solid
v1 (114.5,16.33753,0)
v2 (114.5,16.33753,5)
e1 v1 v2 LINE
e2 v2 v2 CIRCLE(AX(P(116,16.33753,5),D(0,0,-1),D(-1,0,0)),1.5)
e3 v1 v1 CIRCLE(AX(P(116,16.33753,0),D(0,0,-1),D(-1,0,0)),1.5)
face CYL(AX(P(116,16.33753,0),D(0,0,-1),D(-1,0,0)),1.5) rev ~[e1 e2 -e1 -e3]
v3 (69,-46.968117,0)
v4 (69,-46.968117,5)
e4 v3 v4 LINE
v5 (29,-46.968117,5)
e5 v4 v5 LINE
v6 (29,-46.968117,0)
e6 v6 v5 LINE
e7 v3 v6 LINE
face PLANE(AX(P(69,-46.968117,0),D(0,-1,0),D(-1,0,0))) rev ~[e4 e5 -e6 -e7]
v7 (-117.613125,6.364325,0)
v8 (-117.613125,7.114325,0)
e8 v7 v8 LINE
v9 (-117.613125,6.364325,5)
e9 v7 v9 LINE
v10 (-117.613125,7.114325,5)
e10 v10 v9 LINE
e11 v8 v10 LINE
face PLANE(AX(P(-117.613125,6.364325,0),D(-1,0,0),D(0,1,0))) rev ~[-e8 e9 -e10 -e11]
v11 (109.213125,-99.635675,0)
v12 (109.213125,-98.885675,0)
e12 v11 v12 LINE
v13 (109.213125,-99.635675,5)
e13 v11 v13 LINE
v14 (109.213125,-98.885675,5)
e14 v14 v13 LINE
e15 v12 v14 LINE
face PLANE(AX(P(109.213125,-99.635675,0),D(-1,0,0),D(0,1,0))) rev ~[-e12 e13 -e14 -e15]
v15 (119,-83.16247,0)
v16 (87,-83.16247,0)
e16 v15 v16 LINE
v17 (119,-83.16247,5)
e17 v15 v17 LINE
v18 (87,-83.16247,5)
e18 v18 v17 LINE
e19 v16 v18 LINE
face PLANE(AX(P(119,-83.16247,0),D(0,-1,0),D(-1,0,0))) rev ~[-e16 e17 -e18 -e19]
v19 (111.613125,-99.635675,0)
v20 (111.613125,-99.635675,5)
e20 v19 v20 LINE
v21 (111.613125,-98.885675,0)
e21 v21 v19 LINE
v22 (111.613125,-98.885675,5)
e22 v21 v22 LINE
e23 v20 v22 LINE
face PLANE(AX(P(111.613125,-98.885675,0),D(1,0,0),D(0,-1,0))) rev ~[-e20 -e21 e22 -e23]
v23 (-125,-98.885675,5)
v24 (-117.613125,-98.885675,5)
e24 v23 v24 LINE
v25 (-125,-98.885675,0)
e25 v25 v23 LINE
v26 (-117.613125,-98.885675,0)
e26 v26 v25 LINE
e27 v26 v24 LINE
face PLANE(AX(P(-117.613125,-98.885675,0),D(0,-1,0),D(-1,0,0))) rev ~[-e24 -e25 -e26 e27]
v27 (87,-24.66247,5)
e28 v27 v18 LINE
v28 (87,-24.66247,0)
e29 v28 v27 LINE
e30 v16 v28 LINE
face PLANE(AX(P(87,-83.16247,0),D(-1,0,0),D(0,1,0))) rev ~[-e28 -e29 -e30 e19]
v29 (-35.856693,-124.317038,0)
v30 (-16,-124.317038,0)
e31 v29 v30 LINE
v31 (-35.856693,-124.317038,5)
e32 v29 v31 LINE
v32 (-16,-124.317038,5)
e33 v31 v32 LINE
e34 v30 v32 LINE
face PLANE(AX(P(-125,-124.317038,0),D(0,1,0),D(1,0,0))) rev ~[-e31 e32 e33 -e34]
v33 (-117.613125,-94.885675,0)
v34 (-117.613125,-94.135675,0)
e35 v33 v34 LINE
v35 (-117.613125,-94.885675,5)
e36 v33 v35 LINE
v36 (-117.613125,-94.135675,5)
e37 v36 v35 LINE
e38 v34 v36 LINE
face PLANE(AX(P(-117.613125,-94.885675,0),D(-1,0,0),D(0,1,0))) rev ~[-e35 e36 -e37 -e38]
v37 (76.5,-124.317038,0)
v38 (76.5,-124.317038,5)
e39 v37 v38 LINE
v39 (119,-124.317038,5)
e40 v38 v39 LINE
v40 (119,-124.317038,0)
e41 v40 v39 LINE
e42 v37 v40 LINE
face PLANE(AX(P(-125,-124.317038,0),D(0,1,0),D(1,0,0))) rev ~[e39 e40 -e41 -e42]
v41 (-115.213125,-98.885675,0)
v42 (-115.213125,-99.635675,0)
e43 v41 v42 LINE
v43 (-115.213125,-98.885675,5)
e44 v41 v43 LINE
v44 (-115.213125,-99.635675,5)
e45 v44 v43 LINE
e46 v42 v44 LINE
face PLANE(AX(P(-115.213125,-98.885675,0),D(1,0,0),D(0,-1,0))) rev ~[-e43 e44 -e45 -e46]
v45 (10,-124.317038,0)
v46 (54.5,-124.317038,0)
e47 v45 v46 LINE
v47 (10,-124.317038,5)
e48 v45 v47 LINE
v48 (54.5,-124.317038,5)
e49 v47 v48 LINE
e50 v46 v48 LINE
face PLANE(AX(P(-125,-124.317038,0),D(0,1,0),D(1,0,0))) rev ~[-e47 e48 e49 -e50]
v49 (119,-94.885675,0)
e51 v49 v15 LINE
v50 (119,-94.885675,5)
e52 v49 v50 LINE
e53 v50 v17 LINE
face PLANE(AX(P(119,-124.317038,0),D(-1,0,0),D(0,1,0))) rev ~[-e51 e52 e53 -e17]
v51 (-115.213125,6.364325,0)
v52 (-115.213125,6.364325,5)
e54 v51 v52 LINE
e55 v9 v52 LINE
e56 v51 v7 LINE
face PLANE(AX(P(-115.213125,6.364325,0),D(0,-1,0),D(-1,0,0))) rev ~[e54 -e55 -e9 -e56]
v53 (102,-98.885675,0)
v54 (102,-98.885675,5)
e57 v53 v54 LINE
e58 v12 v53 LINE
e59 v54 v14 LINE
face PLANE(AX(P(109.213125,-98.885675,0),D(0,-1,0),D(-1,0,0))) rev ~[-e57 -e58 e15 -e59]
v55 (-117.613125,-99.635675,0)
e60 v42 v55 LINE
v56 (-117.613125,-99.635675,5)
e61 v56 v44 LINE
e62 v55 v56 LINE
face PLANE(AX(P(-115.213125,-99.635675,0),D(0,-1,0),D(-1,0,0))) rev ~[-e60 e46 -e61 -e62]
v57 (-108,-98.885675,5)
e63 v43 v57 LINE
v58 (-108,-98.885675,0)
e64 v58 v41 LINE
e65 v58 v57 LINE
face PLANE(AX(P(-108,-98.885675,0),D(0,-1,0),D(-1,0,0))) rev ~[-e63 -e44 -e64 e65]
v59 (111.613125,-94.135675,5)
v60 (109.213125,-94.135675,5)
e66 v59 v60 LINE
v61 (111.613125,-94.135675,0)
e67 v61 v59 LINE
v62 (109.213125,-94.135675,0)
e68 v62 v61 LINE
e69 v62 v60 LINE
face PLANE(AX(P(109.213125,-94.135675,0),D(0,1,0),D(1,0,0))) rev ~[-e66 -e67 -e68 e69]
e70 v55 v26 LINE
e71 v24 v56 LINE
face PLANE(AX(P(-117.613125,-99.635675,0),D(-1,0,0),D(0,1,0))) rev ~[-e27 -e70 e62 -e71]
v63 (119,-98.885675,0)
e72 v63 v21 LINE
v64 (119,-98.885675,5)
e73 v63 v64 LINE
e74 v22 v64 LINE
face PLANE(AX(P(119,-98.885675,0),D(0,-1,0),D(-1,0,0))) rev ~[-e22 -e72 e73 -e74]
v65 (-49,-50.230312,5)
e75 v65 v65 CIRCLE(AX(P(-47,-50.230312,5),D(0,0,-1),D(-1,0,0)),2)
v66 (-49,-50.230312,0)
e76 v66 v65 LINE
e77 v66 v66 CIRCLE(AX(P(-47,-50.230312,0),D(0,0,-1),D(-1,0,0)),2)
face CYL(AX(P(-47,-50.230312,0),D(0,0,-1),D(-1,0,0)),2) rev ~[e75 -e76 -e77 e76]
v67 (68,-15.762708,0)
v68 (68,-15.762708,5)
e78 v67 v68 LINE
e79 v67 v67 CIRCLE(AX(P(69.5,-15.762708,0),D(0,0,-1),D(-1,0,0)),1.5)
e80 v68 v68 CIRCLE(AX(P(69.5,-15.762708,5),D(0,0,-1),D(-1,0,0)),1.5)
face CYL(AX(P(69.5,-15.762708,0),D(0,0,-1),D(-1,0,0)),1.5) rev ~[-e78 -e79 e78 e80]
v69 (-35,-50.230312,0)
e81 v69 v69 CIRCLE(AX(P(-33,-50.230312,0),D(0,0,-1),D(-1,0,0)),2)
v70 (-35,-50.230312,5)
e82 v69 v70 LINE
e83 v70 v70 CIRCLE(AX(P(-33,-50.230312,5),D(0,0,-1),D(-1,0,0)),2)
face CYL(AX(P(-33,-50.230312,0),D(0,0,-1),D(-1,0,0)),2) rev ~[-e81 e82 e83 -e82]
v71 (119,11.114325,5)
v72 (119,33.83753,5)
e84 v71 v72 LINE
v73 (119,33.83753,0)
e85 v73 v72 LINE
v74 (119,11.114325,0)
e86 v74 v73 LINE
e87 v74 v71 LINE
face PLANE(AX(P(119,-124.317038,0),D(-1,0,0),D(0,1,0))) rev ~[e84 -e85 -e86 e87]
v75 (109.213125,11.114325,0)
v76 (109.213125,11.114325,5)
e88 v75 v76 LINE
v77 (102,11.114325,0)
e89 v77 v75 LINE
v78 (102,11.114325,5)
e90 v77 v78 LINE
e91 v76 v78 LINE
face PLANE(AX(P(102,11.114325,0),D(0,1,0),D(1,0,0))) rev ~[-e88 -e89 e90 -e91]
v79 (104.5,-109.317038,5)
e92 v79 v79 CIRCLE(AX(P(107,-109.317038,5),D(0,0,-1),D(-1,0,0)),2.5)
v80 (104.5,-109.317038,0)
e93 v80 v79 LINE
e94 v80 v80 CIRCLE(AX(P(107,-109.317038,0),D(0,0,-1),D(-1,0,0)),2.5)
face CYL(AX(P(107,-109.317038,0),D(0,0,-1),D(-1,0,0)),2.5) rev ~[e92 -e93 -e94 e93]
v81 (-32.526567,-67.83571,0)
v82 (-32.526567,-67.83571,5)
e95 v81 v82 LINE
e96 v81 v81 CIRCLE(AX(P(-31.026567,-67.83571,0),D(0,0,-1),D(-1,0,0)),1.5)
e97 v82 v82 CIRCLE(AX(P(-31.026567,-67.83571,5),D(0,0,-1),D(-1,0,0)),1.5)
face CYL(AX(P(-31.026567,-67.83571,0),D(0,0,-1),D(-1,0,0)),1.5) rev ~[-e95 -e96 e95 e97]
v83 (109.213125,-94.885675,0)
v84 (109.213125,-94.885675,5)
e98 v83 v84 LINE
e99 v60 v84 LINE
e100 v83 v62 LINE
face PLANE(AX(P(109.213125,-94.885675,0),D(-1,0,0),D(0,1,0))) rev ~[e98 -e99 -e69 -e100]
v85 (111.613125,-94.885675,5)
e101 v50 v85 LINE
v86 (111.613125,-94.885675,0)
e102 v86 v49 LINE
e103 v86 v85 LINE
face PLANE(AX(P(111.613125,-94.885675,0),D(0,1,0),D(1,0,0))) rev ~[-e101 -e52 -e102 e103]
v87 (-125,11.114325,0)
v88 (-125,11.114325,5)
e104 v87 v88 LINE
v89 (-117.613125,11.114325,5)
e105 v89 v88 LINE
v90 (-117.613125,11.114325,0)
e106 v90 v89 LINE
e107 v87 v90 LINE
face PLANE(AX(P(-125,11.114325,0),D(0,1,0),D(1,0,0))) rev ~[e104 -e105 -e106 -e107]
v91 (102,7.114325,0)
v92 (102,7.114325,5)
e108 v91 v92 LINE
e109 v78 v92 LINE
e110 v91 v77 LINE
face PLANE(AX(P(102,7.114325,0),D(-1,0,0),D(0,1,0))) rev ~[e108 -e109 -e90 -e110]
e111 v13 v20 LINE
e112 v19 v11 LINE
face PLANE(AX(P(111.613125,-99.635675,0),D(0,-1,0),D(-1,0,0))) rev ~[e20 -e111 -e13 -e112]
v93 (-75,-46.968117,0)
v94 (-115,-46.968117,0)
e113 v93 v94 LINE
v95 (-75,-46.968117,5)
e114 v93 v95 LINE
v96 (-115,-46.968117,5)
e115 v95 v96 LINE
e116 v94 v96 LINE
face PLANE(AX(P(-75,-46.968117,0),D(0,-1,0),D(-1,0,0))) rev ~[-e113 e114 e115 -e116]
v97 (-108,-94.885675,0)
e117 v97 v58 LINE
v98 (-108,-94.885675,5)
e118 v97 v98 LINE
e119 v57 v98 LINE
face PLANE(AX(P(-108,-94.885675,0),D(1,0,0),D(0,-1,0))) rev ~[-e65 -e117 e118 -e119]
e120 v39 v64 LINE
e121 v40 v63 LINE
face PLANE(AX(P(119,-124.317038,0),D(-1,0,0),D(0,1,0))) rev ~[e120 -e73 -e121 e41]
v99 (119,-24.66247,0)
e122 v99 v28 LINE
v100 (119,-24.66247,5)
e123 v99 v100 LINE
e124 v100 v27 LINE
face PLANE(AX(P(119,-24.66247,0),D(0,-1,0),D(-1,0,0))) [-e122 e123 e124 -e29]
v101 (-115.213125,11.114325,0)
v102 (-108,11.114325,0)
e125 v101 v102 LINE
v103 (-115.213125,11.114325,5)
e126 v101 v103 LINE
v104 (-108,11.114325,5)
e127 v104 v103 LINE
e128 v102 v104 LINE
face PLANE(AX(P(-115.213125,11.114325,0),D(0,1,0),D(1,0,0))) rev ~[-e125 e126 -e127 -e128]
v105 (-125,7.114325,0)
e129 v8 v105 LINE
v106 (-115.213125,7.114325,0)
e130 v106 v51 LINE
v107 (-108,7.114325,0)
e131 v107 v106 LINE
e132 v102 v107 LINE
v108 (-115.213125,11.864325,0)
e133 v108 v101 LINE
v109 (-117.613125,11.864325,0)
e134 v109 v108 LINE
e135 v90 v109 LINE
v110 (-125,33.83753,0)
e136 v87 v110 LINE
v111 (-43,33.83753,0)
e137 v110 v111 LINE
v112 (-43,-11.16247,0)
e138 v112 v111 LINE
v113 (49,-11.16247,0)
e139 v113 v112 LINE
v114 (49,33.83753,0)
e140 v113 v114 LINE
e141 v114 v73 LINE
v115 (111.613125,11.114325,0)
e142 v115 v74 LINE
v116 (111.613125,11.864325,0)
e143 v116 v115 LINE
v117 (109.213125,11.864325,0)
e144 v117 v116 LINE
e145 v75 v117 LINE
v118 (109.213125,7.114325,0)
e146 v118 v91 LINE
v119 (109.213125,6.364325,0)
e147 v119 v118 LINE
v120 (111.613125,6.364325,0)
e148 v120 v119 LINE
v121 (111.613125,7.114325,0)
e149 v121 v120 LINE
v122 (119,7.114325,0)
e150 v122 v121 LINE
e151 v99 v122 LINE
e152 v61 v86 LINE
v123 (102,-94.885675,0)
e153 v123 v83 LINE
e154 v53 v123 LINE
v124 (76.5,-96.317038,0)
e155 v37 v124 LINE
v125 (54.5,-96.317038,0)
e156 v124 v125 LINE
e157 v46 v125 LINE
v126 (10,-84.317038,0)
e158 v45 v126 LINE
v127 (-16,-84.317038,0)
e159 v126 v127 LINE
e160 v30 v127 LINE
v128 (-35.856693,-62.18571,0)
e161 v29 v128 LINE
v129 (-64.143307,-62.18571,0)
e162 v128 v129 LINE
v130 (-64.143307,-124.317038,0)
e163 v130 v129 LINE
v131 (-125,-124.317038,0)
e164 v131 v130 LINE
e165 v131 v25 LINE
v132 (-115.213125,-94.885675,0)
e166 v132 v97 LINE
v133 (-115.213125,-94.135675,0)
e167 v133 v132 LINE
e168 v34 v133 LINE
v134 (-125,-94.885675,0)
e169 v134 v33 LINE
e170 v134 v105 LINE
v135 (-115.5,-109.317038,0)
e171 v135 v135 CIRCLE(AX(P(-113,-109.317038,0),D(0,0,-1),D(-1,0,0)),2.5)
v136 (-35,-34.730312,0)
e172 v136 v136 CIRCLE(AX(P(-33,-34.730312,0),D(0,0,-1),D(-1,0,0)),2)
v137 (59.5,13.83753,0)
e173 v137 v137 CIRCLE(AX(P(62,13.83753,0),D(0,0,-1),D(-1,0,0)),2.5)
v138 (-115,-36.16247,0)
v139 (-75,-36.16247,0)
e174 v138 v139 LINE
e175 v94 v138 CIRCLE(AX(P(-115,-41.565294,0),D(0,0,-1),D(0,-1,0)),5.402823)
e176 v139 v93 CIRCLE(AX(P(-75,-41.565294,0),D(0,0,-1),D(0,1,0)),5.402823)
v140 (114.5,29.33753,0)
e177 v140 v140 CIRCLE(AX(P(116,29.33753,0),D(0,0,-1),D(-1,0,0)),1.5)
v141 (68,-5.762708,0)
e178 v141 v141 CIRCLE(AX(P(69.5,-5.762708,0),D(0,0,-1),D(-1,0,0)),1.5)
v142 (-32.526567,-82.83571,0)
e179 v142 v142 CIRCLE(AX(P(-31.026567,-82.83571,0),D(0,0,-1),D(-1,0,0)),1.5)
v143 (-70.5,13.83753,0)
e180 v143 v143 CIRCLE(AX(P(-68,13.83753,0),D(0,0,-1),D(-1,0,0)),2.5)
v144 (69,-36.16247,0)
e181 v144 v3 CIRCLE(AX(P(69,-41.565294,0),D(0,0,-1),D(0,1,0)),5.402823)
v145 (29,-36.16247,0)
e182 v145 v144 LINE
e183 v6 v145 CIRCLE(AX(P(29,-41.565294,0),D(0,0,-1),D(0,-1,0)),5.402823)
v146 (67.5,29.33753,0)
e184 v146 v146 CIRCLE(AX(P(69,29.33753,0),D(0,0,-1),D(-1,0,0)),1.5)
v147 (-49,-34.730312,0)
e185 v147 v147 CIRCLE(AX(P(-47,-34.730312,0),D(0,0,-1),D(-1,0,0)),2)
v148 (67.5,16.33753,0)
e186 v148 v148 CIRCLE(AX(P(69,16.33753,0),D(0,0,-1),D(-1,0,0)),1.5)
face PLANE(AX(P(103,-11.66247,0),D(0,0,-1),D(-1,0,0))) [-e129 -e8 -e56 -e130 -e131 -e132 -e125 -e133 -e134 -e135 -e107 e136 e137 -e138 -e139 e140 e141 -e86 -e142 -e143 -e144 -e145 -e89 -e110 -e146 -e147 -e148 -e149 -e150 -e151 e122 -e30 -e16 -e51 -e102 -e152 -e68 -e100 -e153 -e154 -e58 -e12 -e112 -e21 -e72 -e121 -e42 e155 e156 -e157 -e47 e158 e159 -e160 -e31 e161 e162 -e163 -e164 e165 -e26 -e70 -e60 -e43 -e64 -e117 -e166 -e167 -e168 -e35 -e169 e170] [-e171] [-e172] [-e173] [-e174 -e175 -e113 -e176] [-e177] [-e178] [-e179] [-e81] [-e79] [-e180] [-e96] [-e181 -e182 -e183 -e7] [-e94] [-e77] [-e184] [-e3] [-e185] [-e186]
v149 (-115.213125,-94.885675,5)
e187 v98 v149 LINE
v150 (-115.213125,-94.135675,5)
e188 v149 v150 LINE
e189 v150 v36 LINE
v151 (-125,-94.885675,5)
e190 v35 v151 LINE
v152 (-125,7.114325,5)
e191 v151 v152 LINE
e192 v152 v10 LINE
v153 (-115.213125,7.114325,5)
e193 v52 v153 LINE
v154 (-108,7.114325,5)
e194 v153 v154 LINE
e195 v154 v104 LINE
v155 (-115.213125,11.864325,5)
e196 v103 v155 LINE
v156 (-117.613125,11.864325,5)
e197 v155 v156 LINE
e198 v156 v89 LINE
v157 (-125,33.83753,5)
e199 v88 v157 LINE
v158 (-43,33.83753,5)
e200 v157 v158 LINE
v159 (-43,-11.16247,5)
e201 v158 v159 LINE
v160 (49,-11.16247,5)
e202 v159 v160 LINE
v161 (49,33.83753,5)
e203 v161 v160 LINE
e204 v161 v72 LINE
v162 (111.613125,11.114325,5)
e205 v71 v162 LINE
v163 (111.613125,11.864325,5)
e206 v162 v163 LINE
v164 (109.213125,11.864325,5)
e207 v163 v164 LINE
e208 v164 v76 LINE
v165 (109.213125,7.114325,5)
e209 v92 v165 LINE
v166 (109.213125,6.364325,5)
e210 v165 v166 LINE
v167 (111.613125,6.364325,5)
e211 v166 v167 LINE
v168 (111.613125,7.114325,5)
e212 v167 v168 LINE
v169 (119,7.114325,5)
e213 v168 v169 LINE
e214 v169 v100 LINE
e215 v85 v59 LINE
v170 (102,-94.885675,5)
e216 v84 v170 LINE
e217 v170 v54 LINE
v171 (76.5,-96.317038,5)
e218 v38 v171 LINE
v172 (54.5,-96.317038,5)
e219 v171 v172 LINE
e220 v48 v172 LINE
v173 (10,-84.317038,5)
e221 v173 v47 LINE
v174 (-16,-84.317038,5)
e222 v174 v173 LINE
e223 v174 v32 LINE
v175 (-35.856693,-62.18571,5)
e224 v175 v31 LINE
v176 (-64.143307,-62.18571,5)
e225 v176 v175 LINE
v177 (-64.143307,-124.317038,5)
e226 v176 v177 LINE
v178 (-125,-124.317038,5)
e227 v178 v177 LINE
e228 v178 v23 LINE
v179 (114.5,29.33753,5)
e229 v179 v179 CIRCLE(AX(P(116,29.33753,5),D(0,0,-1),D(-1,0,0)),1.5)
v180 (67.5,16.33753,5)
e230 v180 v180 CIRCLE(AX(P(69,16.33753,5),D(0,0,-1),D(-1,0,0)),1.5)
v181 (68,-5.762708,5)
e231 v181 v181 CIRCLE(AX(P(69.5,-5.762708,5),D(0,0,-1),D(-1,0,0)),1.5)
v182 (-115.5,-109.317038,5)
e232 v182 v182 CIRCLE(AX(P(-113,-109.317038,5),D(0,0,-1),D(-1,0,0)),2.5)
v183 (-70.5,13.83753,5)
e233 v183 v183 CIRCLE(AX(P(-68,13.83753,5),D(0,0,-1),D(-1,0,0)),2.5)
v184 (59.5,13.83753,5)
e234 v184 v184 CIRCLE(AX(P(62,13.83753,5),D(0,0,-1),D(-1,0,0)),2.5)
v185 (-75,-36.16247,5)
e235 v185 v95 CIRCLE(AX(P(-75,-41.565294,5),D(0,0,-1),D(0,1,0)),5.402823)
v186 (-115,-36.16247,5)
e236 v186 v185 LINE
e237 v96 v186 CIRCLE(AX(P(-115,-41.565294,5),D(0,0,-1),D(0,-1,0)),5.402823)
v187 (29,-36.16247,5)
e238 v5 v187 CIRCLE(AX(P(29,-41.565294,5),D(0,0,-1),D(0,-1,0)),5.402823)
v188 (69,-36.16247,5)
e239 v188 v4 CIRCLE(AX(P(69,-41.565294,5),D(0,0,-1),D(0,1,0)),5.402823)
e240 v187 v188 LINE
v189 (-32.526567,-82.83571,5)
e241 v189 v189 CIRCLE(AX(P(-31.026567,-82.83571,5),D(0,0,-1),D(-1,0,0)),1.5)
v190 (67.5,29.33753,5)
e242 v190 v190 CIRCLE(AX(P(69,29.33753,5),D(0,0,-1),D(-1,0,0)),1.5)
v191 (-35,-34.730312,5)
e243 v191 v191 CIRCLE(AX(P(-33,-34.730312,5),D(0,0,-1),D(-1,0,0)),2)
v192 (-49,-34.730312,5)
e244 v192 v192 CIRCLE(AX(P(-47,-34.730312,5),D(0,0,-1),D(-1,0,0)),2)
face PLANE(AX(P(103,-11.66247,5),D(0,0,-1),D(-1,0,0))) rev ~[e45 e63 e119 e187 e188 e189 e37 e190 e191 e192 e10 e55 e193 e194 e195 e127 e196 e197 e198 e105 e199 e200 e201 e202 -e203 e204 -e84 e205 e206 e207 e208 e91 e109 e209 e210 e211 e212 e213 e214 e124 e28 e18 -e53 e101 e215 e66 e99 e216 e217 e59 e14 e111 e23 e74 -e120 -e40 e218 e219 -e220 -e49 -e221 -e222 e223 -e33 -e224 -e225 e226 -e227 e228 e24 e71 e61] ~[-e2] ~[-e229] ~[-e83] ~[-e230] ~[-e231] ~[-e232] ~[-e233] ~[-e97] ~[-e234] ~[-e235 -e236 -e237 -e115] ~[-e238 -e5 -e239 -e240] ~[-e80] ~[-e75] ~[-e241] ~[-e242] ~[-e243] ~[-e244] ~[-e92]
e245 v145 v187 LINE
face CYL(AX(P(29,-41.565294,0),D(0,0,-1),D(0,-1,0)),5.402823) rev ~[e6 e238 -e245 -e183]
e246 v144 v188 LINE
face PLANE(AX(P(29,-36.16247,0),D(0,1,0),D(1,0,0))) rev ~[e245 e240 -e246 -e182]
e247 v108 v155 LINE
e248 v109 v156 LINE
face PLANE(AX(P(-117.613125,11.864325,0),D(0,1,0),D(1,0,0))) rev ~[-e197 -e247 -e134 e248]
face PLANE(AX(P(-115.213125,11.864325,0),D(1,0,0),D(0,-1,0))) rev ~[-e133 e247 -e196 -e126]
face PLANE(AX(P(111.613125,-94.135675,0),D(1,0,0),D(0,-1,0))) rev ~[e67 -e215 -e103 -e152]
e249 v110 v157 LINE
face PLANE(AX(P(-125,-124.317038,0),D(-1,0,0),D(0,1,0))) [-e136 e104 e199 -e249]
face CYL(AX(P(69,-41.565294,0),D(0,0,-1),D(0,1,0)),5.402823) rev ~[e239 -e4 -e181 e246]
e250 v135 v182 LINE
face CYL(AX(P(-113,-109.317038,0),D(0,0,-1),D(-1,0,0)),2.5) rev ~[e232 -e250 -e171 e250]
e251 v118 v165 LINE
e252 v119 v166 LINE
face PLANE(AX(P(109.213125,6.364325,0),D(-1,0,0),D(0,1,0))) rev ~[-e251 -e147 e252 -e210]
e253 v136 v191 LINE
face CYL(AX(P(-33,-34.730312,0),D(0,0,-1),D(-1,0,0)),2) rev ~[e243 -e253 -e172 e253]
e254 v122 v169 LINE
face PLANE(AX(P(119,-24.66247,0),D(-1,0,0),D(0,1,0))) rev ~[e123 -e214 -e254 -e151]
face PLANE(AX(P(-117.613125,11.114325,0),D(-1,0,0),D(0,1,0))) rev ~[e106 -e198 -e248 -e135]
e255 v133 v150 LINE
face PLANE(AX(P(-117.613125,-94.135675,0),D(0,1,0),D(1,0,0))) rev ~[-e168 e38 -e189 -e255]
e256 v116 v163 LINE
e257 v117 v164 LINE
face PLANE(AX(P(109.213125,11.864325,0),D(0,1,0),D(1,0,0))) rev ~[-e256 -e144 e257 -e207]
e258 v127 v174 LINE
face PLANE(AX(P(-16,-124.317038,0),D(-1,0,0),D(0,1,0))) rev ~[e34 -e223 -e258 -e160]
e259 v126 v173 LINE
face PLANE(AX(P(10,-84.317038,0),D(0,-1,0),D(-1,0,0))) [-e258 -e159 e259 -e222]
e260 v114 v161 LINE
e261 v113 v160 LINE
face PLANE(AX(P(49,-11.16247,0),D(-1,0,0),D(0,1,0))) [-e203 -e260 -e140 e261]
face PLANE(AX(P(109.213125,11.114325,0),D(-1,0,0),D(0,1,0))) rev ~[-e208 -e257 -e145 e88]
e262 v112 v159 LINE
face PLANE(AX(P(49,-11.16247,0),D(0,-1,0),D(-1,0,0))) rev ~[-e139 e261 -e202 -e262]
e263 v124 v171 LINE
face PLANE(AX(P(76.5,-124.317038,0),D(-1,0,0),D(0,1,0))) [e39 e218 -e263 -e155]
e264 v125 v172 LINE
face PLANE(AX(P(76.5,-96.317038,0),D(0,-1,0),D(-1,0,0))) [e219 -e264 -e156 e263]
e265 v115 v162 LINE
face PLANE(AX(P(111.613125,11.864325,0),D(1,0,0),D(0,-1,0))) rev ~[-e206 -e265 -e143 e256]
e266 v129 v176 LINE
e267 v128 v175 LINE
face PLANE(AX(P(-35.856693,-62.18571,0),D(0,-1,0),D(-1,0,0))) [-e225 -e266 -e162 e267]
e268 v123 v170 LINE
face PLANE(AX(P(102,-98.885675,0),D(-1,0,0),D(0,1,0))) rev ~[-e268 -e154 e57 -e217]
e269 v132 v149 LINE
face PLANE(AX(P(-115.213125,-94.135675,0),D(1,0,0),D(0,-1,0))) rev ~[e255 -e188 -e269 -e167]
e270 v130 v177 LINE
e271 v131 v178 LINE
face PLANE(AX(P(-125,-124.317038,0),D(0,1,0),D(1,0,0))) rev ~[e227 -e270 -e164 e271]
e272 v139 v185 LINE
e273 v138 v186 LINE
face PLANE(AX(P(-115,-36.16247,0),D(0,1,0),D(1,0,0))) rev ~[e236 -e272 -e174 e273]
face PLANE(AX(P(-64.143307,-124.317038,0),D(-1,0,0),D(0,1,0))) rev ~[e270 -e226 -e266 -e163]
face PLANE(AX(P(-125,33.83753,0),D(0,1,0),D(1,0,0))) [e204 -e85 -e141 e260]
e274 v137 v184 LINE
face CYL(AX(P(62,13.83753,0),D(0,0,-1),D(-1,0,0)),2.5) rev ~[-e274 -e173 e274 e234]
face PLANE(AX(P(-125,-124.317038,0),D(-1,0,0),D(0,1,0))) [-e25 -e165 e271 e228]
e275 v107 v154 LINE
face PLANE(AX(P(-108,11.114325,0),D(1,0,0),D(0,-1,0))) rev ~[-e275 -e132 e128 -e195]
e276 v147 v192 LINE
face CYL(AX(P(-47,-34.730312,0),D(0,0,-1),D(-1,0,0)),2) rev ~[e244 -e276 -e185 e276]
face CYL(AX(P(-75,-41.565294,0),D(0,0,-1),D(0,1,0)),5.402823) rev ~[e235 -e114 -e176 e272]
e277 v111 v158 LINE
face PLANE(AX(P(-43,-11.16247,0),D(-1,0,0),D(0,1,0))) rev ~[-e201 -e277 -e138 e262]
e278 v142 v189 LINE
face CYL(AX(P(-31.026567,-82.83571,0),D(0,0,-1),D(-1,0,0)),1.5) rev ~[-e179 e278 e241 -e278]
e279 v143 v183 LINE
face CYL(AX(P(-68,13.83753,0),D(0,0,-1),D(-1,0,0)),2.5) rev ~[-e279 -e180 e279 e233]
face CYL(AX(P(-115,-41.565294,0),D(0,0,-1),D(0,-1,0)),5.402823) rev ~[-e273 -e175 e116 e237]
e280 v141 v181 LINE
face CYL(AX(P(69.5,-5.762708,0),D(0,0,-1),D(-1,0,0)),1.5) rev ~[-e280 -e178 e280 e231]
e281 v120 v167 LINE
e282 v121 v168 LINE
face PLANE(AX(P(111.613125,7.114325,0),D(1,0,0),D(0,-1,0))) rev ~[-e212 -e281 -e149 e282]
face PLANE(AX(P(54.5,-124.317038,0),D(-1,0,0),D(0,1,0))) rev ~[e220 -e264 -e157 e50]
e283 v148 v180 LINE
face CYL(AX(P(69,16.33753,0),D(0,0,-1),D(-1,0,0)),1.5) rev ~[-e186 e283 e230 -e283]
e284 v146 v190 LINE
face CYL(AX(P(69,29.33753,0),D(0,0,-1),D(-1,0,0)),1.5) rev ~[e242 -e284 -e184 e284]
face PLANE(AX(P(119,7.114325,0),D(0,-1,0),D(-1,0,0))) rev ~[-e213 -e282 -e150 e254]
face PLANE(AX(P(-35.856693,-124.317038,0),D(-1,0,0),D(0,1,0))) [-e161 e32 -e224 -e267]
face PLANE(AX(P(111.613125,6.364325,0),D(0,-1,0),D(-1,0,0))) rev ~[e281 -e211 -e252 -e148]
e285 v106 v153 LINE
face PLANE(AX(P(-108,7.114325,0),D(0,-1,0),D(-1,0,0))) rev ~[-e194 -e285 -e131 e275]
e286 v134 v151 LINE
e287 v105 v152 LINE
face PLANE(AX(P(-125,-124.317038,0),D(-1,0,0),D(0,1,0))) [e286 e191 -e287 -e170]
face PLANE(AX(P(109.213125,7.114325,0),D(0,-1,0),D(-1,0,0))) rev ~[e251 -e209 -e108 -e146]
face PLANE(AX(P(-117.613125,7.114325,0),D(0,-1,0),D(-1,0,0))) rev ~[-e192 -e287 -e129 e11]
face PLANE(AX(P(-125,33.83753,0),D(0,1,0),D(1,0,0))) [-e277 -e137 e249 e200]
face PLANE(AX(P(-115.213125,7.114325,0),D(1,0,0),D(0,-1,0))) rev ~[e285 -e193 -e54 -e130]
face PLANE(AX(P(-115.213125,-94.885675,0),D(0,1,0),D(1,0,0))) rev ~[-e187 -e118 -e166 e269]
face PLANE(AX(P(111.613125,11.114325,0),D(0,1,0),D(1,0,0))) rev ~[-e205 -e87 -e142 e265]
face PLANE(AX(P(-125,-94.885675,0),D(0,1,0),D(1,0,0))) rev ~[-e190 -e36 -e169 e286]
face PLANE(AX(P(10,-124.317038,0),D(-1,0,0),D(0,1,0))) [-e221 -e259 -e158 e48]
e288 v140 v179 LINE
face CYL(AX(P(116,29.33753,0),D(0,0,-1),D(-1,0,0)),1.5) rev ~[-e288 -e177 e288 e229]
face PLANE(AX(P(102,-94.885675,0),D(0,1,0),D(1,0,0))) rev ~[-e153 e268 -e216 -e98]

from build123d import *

# Parameters (mm, degrees)
SKETCH1_W           = 244
SKETCH1_H           = 158.154567899
BOSS_EXTRUDE2_DEPTH = 5
SKETCH2_W           = 28.286613298
SKETCH2_H           = 62.131328865
CUT_EXTRUDE1_DEPTH  = 10
SKETCH7_W           = 32
SKETCH7_H           = 84.5
CUT_EXTRUDE5_DEPTH  = 10
SKETCH9_R           = 1.5
CUT_EXTRUDE7_DEPTH  = 10
SKETCH10_W          = 26
SKETCH10_H          = 40
CUT_EXTRUDE8_DEPTH  = 10
SKETCH12_W          = 92
SKETCH12_H          = 45
CUT_EXTRUDE10_DEPTH = 10
SKETCH13_R          = 2.5
CUT_EXTRUDE11_DEPTH = 10
CUT_EXTRUDE12_DEPTH = 10
SKETCH15_W          = 32
SKETCH15_H          = 26
BOSS_EXTRUDE3_DEPTH = 5
SKETCH16_R          = 1.5
CUT_EXTRUDE13_DEPTH = 10
SKETCH17_R          = 1.5
CUT_EXTRUDE14_DEPTH = 10
SKETCH19_R          = 2
CUT_EXTRUDE16_DEPTH = 10
SKETCH20_W          = 22
SKETCH20_H          = 28
CUT_EXTRUDE17_DEPTH = 10
CUT_EXTRUDE18_DEPTH = 10


with BuildPart() as part:
    # Sketch1 → Boss-Extrude2 (new body)
    with BuildSketch(Plane.XY):
        with Locations((-3, -45.239754423)):
            Rectangle(SKETCH1_W, SKETCH1_H)
    extrude(amount=BOSS_EXTRUDE2_DEPTH)

    # Sketch2 → Cut-Extrude1 (cut)
    with BuildSketch(Plane(origin=(0, 0, 0), x_dir=(-1, 0, 0), z_dir=(0, 0, -1))):
        with Locations((50, -93.25137394)):
            Rectangle(SKETCH2_W, SKETCH2_H)
    extrude(amount=-CUT_EXTRUDE1_DEPTH, mode=Mode.SUBTRACT)

    # Sketch7 → Cut-Extrude5 (cut)
    with BuildSketch(Plane(origin=(0, 0, 0), x_dir=(-1, 0, 0), z_dir=(0, 0, -1))):
        with Locations((-103, -40.912470473)):
            Rectangle(SKETCH7_W, SKETCH7_H)
    extrude(amount=-CUT_EXTRUDE5_DEPTH, mode=Mode.SUBTRACT)

    # Sketch9 → Cut-Extrude7 (cut)
    with BuildSketch(Plane(origin=(0, 0, 0), x_dir=(-1, 0, 0), z_dir=(0, 0, -1))):
        with Locations((31.026566737, -67.835709507)):
            Circle(SKETCH9_R)
        with Locations((31.026566737, -82.835709507)):
            Circle(SKETCH9_R)
    extrude(amount=-CUT_EXTRUDE7_DEPTH, mode=Mode.SUBTRACT)

    # Sketch10 → Cut-Extrude8 (cut)
    with BuildSketch(Plane(origin=(0, 0, 0), x_dir=(-1, 0, 0), z_dir=(0, 0, -1))):
        with Locations((3, -104.317038372)):
            Rectangle(SKETCH10_W, SKETCH10_H)
    extrude(amount=-CUT_EXTRUDE8_DEPTH, mode=Mode.SUBTRACT)

    # Sketch12 → Cut-Extrude10 (cut)
    with BuildSketch(Plane(origin=(0, 0, 0), x_dir=(-1, 0, 0), z_dir=(0, 0, -1))):
        with Locations((-3, 11.337529527)):
            Rectangle(SKETCH12_W, SKETCH12_H)
    extrude(amount=-CUT_EXTRUDE10_DEPTH, mode=Mode.SUBTRACT)

    # Sketch13 → Cut-Extrude11 (cut)
    with BuildSketch(Plane(origin=(0, 0, 0), x_dir=(-1, 0, 0), z_dir=(0, 0, -1))):
        with Locations((-107, -109.317038372)):
            Circle(SKETCH13_R)
        with Locations((113, -109.317038372)):
            Circle(SKETCH13_R)
        with Locations((-62, 13.837529527)):
            Circle(SKETCH13_R)
        with Locations((68, 13.837529527)):
            Circle(SKETCH13_R)
    extrude(amount=-CUT_EXTRUDE11_DEPTH, mode=Mode.SUBTRACT)

    # Sketch14 → Cut-Extrude12 (cut)
    with BuildSketch(Plane(origin=(0, 0, 0), x_dir=(-1, 0, 0), z_dir=(0, 0, -1))):
        Polygon((-119, -94.885674772), (-119, -98.885674772), (-111.613125162, -98.885674772), (-111.613125162, -99.635674772), (-109.213125162, -99.635674772), (-109.213125162, -98.885674772), (-102, -98.885674772), (-102, -94.885674772), (-109.213125162, -94.885674772), (-109.213125162, -94.135674772), (-111.613125162, -94.135674772), (-111.613125162, -94.885674772), align=None)
        Polygon((-102, 11.114325228), (-109.213125162, 11.114325228), (-109.213125162, 11.864325228), (-111.613125162, 11.864325228), (-111.613125162, 11.114325228), (-119, 11.114325228), (-119, 7.114325228), (-111.613125162, 7.114325228), (-111.613125162, 6.364325228), (-109.213125162, 6.364325228), (-109.213125162, 7.114325228), (-102, 7.114325228), align=None)
        Polygon((117.613125162, 7.114325228), (125, 7.114325228), (125, 11.114325228), (117.613125162, 11.114325228), (117.613125162, 11.864325228), (115.213125162, 11.864325228), (115.213125162, 11.114325228), (108, 11.114325228), (108, 7.114325228), (115.213125162, 7.114325228), (115.213125162, 6.364325228), (117.613125162, 6.364325228), align=None)
        Polygon((117.613125162, -98.885674772), (125, -98.885674772), (125, -94.885674772), (117.613125162, -94.885674772), (117.613125162, -94.135674772), (115.213125162, -94.135674772), (115.213125162, -94.885674772), (108, -94.885674772), (108, -98.885674772), (115.213125162, -98.885674772), (115.213125162, -99.635674772), (117.613125162, -99.635674772), align=None)
    extrude(amount=-CUT_EXTRUDE12_DEPTH, mode=Mode.SUBTRACT)

    # Sketch15 → Boss-Extrude3 (add)
    with BuildSketch(Plane(origin=(0, 0, 0), x_dir=(-1, 0, 0), z_dir=(0, 0, -1))):
        with Locations((-103, -11.662470473)):
            Rectangle(SKETCH15_W, SKETCH15_H)
    extrude(amount=-BOSS_EXTRUDE3_DEPTH)

    # Sketch16 → Cut-Extrude13 (cut)
    with BuildSketch(Plane(origin=(0, 0, 0), x_dir=(-1, 0, 0), z_dir=(0, 0, -1))):
        with Locations((-69.5, -5.762708109)):
            Circle(SKETCH16_R)
        with Locations((-69.5, -15.762708109)):
            Circle(SKETCH16_R)
    extrude(amount=-CUT_EXTRUDE13_DEPTH, mode=Mode.SUBTRACT)

    # Sketch17 → Cut-Extrude14 (cut)
    with BuildSketch(Plane(origin=(0, 0, 0), x_dir=(-1, 0, 0), z_dir=(0, 0, -1))):
        with Locations((-69, 16.337529527)):
            Circle(SKETCH17_R)
        with Locations((-69, 29.337529527)):
            Circle(SKETCH17_R)
        with Locations((-116, 16.337529527)):
            Circle(SKETCH17_R)
        with Locations((-116, 29.337529527)):
            Circle(SKETCH17_R)
    extrude(amount=-CUT_EXTRUDE14_DEPTH, mode=Mode.SUBTRACT)

    # Sketch19 → Cut-Extrude16 (cut)
    with BuildSketch(Plane(origin=(0, 0, 0), x_dir=(-1, 0, 0), z_dir=(0, 0, -1))):
        with Locations((33, -34.730312102)):
            Circle(SKETCH19_R)
        with Locations((47, -34.730312102)):
            Circle(SKETCH19_R)
        with Locations((33, -50.230312102)):
            Circle(SKETCH19_R)
        with Locations((47, -50.230312102)):
            Circle(SKETCH19_R)
    extrude(amount=-CUT_EXTRUDE16_DEPTH, mode=Mode.SUBTRACT)

    # Sketch20 → Cut-Extrude17 (cut)
    with BuildSketch(Plane(origin=(0, 0, 0), x_dir=(-1, 0, 0), z_dir=(0, 0, -1))):
        with Locations((-65.5, -110.317038372)):
            Rectangle(SKETCH20_W, SKETCH20_H)
    extrude(amount=-CUT_EXTRUDE17_DEPTH, mode=Mode.SUBTRACT)

    # Sketch21 → Cut-Extrude18 (cut)
    with BuildSketch(Plane(origin=(0, 0, 0), x_dir=(-1, 0, 0), z_dir=(0, 0, -1))):
        with BuildLine():
            Line((-29, -36.162470473), (-69, -36.162470473))
            ThreePointArc((-69, -36.162470473), (-74.402823378, -41.565293851), (-69, -46.968117229))
            Line((-69, -46.968117229), (-29, -46.968117229))
            ThreePointArc((-29, -46.968117229), (-23.597176622, -41.565293851), (-29, -36.162470473))
        make_face()
        with BuildLine():
            Line((115, -36.162470473), (75, -36.162470473))
            ThreePointArc((75, -36.162470473), (69.597176622, -41.565293851), (75, -46.968117229))
            Line((75, -46.968117229), (115, -46.968117229))
            ThreePointArc((115, -46.968117229), (120.402823378, -41.565293851), (115, -36.162470473))
        make_face()
    extrude(amount=-CUT_EXTRUDE18_DEPTH, mode=Mode.SUBTRACT)


solid = part.part
